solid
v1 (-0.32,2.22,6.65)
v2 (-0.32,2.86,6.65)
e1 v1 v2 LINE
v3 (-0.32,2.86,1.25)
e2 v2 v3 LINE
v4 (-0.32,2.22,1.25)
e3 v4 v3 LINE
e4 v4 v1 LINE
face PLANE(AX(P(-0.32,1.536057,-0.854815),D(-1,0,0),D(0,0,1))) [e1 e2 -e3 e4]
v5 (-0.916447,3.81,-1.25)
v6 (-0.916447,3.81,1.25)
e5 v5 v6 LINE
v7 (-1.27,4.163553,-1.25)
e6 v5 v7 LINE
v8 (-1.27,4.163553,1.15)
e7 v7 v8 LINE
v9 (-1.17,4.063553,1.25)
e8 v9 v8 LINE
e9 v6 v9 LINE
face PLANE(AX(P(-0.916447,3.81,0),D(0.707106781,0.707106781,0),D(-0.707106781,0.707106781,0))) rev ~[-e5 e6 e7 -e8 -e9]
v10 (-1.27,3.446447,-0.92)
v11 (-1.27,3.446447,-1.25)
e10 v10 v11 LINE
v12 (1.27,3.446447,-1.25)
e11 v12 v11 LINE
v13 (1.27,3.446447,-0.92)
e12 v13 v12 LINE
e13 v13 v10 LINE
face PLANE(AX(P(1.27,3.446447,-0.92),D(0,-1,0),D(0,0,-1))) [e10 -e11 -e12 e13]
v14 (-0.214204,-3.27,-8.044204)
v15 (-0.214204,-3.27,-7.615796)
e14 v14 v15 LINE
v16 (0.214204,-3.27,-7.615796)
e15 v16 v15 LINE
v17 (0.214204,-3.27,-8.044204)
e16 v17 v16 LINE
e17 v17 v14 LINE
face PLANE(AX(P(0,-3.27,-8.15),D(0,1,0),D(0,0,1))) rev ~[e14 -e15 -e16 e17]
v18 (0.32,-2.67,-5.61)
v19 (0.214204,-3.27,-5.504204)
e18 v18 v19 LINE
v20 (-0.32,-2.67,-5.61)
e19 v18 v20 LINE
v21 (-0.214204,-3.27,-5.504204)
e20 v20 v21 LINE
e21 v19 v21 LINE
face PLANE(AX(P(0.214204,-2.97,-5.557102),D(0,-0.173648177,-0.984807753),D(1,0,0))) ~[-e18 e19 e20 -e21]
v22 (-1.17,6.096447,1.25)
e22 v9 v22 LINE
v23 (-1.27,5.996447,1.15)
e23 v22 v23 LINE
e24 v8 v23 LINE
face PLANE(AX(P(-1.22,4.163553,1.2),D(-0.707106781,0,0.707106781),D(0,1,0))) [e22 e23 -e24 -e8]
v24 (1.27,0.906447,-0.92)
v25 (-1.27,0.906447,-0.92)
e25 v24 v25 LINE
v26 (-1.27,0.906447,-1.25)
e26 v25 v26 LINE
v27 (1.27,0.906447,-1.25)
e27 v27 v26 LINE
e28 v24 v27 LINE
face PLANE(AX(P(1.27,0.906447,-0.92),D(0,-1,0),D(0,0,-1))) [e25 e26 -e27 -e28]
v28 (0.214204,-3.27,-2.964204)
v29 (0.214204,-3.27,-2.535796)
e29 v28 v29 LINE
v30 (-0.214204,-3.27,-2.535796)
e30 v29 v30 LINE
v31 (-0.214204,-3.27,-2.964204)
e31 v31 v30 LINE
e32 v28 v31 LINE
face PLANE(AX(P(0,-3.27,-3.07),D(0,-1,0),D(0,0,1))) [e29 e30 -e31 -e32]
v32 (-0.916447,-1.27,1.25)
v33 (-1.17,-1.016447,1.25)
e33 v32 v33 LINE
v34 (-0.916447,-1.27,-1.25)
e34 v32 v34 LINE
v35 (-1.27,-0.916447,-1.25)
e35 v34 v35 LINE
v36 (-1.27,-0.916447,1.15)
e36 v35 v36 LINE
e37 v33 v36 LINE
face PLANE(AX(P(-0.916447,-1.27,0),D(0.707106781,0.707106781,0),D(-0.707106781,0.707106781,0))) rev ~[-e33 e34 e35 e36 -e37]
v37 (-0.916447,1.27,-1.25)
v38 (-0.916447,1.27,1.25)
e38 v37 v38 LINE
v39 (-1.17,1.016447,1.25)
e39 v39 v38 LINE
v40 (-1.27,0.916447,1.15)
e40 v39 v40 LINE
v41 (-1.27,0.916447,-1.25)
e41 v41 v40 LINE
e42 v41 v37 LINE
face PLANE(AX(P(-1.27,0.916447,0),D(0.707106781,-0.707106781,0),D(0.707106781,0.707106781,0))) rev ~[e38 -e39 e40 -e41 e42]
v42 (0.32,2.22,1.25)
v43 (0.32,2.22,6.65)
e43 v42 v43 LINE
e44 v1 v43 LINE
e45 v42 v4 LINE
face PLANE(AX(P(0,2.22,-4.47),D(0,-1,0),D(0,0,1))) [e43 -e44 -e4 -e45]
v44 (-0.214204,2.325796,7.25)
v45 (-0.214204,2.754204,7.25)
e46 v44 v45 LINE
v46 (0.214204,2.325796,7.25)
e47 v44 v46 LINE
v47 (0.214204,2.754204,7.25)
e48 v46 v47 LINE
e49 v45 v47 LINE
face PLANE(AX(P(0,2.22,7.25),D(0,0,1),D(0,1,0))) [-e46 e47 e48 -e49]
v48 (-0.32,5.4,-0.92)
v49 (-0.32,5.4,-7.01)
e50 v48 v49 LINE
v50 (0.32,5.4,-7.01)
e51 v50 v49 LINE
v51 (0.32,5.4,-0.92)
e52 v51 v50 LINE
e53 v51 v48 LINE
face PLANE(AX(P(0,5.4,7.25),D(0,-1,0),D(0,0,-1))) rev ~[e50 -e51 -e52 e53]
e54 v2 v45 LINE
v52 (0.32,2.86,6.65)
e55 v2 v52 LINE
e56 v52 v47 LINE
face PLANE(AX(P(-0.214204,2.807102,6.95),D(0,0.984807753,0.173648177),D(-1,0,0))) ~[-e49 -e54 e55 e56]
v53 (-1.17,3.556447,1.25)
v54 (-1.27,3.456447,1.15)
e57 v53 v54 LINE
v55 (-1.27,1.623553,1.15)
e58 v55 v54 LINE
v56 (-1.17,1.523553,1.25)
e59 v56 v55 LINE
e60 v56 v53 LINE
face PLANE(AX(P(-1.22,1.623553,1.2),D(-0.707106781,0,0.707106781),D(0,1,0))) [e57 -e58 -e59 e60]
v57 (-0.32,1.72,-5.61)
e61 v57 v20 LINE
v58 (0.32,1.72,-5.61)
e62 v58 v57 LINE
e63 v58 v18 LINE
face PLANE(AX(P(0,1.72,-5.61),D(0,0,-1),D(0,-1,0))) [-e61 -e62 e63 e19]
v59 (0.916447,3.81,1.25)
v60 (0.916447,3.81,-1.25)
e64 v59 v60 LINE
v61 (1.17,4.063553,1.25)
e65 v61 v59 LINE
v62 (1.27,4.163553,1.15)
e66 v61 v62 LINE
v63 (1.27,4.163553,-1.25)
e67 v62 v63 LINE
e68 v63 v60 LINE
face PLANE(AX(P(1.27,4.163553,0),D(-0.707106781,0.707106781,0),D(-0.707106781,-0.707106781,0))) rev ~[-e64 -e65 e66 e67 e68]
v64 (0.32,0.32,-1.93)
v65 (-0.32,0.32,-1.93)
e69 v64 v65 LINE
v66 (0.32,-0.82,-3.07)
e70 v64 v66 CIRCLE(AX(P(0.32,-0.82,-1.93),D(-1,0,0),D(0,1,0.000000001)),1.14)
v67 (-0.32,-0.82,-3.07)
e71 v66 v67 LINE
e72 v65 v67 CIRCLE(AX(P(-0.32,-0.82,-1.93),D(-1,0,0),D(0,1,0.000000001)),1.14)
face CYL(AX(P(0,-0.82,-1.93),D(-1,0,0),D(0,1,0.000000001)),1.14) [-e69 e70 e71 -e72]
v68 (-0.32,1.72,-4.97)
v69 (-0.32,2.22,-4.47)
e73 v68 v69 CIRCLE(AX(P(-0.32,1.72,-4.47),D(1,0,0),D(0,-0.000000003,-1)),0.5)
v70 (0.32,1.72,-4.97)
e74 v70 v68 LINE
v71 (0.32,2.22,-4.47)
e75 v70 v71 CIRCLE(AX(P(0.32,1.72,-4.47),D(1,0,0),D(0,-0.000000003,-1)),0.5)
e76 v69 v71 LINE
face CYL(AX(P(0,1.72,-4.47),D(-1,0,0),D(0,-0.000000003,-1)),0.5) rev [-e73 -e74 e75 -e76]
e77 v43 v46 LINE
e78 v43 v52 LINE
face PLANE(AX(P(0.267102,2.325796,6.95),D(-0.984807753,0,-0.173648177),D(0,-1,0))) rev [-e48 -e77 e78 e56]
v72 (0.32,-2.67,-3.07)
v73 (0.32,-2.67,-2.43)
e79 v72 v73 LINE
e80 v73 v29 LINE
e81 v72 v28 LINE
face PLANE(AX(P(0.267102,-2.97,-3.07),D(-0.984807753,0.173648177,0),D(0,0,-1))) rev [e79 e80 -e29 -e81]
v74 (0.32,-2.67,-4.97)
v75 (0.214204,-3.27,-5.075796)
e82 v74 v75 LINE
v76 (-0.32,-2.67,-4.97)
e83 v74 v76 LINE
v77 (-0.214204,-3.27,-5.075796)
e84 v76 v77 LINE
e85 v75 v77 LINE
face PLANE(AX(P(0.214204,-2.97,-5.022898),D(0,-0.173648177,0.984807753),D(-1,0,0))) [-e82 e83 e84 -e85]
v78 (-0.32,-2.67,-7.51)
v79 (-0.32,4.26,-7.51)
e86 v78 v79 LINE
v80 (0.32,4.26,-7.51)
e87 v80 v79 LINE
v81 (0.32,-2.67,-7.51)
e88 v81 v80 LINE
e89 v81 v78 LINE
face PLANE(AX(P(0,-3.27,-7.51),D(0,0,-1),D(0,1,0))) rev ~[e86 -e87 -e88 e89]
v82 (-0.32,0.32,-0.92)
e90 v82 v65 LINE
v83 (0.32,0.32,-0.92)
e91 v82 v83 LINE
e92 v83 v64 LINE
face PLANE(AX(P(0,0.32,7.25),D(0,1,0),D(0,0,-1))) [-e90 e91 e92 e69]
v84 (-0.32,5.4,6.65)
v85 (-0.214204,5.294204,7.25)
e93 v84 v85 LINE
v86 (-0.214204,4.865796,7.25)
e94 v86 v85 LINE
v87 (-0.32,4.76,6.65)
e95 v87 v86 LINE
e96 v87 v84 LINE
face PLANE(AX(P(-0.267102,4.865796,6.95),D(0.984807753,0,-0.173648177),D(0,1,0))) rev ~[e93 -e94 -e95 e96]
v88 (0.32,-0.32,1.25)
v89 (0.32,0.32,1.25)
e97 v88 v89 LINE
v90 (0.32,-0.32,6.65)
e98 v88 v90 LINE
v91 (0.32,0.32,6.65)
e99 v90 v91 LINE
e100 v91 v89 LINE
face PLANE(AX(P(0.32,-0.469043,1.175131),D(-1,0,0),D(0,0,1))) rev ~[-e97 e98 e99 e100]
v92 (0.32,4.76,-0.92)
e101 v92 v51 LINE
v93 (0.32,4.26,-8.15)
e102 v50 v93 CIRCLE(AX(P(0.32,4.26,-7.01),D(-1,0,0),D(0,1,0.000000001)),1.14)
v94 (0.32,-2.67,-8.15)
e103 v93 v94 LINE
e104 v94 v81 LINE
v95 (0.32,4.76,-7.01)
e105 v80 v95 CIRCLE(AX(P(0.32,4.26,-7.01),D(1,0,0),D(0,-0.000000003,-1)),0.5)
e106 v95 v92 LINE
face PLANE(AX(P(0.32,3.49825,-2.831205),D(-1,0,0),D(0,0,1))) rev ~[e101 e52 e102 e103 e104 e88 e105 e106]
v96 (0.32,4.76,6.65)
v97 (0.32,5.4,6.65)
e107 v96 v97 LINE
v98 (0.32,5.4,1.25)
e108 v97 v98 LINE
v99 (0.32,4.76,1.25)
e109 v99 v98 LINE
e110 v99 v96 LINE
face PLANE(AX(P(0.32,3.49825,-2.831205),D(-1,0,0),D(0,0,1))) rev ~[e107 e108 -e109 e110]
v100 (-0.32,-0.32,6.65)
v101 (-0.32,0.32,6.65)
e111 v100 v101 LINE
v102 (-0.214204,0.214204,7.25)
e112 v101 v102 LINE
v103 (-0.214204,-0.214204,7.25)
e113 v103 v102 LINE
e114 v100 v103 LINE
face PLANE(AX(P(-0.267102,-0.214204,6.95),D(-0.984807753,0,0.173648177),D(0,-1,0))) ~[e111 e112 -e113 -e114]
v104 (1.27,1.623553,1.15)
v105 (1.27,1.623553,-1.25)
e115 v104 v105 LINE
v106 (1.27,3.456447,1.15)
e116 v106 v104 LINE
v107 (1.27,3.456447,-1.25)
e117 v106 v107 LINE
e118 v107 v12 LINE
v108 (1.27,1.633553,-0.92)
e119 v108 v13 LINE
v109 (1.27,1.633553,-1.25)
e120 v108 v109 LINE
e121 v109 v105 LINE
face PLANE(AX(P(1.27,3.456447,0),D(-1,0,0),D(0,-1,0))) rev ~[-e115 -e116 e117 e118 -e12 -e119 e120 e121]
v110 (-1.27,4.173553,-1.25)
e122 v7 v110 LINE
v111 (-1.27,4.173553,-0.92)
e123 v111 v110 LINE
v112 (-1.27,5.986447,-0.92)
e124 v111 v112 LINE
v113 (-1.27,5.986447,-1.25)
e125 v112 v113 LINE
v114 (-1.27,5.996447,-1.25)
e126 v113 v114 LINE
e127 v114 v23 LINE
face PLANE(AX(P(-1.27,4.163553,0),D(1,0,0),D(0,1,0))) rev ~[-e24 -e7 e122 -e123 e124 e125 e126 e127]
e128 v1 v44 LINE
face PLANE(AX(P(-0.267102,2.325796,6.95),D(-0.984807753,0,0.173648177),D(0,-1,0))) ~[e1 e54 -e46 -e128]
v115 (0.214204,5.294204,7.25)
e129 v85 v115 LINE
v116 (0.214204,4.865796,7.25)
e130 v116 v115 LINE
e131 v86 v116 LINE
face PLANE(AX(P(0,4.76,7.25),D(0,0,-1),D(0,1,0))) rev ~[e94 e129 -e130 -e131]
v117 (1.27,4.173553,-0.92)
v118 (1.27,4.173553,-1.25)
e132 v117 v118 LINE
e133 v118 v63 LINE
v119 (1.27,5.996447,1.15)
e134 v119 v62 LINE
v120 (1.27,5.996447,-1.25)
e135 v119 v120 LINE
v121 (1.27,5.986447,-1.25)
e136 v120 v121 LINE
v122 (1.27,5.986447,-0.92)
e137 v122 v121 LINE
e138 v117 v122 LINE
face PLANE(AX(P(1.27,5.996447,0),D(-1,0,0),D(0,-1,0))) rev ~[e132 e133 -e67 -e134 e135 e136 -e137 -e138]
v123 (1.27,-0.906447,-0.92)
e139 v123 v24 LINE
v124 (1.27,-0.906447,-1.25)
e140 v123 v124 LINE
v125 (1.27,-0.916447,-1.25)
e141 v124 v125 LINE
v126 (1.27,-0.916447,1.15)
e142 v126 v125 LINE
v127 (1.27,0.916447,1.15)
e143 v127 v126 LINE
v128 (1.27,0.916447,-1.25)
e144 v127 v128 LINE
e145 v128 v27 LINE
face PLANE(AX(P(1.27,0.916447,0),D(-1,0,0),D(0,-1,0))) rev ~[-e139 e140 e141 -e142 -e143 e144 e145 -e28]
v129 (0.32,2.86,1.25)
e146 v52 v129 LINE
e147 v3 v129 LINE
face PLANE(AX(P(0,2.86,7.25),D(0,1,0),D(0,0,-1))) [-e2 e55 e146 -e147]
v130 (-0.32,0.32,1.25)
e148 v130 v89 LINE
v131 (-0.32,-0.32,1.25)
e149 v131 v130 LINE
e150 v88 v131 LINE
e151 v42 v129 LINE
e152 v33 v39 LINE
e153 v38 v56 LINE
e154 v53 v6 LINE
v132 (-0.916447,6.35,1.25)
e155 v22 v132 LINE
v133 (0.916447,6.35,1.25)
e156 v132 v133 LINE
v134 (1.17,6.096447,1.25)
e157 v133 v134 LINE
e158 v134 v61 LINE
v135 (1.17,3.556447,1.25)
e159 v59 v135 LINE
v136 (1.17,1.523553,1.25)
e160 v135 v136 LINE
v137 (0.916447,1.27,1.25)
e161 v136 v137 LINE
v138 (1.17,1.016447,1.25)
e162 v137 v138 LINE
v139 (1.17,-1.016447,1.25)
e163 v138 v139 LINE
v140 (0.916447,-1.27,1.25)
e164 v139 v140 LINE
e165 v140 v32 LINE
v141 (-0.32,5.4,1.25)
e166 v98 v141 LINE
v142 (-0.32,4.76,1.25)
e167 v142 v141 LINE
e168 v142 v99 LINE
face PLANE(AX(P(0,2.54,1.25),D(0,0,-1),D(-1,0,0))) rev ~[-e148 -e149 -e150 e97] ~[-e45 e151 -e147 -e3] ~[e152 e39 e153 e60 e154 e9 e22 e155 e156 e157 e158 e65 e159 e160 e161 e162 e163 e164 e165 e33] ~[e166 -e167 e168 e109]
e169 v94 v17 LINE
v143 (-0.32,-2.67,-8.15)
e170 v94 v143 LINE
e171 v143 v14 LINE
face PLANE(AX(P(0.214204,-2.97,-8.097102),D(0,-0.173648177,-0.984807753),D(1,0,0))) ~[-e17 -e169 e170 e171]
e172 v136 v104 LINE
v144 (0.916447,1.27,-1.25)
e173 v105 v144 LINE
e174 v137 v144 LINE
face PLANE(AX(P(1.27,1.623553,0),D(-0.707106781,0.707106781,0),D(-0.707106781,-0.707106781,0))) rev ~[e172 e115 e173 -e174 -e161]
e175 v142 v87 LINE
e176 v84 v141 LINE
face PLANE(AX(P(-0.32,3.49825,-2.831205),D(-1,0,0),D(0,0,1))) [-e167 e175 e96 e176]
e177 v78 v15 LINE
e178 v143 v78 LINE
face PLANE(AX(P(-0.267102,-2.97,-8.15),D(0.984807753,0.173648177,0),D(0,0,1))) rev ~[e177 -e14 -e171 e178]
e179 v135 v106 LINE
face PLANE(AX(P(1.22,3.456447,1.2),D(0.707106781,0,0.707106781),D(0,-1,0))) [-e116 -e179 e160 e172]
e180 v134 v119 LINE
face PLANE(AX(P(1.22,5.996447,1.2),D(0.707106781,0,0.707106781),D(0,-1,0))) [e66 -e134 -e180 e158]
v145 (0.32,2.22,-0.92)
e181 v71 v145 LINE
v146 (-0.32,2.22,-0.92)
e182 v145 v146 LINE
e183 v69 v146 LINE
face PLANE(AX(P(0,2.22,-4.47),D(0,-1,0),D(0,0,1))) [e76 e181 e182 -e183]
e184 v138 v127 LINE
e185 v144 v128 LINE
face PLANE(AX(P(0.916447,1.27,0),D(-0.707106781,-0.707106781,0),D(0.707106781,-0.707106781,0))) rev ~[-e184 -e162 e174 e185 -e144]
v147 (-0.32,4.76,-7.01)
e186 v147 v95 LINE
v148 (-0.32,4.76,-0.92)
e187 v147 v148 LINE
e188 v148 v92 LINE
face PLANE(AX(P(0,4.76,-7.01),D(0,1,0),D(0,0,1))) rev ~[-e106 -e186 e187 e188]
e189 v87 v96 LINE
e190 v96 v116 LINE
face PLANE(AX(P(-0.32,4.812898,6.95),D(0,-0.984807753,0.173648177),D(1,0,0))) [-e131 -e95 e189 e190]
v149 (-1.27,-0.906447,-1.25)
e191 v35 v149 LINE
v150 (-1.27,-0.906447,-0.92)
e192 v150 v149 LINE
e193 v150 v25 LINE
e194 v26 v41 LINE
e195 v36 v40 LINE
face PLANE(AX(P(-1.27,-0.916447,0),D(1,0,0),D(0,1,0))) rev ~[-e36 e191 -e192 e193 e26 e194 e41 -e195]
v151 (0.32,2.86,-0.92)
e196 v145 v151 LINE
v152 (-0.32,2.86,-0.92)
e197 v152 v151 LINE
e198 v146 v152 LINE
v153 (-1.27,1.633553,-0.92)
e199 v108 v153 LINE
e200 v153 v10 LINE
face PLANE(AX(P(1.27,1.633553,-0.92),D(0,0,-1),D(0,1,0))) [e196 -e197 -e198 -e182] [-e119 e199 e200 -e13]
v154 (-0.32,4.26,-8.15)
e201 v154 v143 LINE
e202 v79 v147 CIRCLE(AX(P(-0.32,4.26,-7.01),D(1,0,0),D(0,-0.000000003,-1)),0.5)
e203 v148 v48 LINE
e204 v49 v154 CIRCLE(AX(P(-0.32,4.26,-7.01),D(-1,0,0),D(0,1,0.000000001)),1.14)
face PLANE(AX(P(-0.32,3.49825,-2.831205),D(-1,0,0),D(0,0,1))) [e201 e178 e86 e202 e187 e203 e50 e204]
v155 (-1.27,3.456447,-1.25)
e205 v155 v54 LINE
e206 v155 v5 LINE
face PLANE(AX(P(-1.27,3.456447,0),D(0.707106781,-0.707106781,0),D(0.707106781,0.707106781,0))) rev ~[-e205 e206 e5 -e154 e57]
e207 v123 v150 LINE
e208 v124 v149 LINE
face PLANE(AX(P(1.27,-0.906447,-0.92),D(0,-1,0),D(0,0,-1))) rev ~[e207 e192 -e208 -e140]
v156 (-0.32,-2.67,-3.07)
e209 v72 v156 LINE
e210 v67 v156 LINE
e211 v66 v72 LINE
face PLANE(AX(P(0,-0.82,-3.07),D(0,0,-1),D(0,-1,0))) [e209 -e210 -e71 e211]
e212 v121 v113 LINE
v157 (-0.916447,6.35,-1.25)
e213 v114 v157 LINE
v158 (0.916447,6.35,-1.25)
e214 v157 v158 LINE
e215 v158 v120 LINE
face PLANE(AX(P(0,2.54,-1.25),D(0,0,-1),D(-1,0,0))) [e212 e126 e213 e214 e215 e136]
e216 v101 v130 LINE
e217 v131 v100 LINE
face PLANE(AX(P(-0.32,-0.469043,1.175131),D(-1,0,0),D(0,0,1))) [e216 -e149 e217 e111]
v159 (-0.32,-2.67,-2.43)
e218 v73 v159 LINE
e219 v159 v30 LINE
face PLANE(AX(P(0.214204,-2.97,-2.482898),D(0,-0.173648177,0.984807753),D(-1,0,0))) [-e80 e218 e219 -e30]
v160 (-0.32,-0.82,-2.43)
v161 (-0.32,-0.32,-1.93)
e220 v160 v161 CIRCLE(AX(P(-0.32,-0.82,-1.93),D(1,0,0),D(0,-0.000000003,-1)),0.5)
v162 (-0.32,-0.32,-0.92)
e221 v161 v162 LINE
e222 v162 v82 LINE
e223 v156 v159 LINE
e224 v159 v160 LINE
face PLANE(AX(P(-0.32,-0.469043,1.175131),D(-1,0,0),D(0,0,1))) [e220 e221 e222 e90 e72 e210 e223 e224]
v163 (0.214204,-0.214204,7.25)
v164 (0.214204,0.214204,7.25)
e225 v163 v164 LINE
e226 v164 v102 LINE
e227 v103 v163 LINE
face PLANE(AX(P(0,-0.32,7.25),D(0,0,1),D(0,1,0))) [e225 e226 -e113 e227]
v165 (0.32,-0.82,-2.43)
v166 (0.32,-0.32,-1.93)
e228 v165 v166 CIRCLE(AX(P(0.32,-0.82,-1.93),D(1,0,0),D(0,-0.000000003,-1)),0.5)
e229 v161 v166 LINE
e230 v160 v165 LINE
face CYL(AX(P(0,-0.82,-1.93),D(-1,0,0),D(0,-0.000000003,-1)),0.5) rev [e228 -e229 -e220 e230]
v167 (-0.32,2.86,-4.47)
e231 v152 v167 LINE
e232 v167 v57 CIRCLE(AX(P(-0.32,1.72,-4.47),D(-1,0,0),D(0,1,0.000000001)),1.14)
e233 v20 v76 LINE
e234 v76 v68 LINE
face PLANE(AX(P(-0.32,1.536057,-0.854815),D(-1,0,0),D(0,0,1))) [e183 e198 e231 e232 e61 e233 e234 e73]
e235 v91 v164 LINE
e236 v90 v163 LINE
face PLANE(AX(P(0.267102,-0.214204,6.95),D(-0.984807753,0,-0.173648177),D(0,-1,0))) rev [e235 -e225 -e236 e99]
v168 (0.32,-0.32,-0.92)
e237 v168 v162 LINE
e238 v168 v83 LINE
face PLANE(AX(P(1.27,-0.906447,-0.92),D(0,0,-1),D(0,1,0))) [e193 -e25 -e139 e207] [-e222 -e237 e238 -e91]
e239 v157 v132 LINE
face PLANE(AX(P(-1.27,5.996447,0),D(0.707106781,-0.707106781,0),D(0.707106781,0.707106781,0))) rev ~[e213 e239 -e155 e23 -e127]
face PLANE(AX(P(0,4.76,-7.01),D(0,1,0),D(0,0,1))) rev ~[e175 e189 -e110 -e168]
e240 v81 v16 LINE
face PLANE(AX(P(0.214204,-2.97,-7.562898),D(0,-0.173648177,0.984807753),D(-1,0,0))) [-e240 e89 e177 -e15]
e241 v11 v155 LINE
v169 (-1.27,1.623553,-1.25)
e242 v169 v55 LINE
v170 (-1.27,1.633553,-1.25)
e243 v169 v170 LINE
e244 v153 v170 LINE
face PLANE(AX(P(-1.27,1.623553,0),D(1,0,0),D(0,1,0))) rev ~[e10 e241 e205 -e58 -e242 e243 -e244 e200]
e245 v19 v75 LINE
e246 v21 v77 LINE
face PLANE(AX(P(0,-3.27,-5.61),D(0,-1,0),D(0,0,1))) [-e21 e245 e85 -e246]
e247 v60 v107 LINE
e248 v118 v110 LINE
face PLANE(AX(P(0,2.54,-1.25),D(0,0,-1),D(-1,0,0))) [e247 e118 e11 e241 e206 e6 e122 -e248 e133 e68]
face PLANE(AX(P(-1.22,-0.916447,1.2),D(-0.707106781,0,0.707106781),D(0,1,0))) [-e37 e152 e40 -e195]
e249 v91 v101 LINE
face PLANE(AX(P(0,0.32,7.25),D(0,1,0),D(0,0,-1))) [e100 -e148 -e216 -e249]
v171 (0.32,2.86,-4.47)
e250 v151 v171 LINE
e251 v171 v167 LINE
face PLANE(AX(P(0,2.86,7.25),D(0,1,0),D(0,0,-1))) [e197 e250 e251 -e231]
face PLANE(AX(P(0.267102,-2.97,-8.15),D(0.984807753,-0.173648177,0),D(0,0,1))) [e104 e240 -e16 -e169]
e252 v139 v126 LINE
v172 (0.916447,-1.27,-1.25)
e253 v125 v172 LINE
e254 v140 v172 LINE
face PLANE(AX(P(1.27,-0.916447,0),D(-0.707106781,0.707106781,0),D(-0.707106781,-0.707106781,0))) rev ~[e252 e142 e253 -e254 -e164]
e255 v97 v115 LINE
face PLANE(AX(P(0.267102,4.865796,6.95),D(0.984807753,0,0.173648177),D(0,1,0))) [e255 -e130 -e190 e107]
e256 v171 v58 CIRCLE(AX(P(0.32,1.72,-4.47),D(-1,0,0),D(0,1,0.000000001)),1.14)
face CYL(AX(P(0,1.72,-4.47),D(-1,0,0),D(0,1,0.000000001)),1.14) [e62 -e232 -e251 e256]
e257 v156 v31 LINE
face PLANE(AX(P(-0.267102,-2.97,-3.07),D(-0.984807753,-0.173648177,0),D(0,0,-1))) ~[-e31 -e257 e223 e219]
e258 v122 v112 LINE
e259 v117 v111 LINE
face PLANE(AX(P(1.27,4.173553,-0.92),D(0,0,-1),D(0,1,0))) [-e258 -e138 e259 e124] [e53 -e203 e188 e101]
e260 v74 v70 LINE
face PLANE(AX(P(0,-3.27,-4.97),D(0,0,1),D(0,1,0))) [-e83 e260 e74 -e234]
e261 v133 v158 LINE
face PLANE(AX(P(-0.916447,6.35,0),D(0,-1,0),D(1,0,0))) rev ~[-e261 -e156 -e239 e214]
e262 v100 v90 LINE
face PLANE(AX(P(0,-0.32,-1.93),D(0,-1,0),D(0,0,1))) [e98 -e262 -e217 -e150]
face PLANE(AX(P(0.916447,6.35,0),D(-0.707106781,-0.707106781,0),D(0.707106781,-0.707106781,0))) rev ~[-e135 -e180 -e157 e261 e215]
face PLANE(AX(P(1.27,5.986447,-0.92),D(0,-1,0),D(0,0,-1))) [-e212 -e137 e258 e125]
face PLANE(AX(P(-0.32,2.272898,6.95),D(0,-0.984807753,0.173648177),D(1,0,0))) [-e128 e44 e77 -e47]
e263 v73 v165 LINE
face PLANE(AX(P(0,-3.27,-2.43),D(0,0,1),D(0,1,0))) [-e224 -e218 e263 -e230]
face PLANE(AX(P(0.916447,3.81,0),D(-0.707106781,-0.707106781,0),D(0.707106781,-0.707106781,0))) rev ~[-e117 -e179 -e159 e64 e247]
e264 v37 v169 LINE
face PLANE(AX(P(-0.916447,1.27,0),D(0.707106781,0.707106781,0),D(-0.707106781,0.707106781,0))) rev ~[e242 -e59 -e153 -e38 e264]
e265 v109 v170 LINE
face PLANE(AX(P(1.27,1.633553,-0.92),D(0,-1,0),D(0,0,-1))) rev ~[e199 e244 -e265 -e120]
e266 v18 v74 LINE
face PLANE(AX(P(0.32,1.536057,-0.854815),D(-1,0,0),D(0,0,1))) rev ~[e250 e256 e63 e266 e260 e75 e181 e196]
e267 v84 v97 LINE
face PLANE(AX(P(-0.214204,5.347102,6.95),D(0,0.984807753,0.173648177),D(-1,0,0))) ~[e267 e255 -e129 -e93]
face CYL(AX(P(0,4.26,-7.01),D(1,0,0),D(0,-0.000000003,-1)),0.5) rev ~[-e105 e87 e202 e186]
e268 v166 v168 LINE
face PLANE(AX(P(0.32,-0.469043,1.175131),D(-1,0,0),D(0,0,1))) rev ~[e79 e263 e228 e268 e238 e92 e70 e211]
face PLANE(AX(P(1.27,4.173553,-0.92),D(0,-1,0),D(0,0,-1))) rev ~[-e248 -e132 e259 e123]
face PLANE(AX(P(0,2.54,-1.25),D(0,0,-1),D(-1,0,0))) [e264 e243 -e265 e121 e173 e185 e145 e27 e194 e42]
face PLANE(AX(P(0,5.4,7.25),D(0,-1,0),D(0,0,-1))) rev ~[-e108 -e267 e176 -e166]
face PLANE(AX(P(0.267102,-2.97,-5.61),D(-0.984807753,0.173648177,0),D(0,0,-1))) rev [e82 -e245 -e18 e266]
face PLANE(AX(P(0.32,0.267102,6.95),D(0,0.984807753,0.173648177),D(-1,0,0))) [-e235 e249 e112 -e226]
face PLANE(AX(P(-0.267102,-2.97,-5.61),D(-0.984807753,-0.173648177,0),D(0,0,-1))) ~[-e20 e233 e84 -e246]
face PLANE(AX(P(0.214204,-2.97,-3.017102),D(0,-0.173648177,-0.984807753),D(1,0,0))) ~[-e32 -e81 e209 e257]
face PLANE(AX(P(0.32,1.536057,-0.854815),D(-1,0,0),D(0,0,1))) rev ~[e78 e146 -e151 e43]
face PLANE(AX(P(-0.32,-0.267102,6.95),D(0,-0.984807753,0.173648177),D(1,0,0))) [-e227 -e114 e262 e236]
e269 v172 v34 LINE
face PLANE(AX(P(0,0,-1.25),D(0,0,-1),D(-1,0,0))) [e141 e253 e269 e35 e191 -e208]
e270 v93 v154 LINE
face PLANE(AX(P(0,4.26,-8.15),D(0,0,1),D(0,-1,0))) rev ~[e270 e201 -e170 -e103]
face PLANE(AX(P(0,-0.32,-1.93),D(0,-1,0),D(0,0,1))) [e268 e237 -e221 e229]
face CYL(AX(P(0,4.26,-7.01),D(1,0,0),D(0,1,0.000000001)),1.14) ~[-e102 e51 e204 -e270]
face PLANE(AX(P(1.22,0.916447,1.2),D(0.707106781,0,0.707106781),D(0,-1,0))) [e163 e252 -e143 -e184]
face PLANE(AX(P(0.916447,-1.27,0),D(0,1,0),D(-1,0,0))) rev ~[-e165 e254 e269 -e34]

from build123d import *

# Parameters (mm, degrees)
BOSS_EXTRU_1_DEPTH                      = 1.25
ESQUISSE2_W                             = 0.33
ESQUISSE2_H                             = 1.812893218
ENL_V_MAT_EXTRU_2_DEPTH                 = 3.54
CHANFREIN1_SIZE                         = 0.1
R_P_TITION_LIN_AIRE1_COUNT              = 3
R_P_TITION_LIN_AIRE1_PITCH              = 2.54
CHANFREIN1_OF_R_P_TITION_LIN_AIRE1_SIZE = 0.1
BOSS_EXTRU_2_DEPTH                      = 0.32
CHANFREIN2_SIZE                         = 0.6
CHANFREIN2_SIZE2                        = 0.105796188
CHANFREIN2_PART_2_SIZE                  = 0.6
CHANFREIN2_PART_2_SIZE2                 = 0.105796188
CHANFREIN2_PART_3_SIZE                  = 0.6
CHANFREIN2_PART_3_SIZE2                 = 0.105796188
CHANFREIN2_PART_4_SIZE                  = 0.6
CHANFREIN2_PART_4_SIZE2                 = 0.105796188
CHANFREIN2_PART_5_SIZE                  = 0.6
CHANFREIN2_PART_5_SIZE2                 = 0.105796188
CHANFREIN2_PART_6_SIZE                  = 0.6
CHANFREIN2_PART_6_SIZE2                 = 0.105796188
CHANFREIN2_PART_7_SIZE                  = 0.6
CHANFREIN2_PART_7_SIZE2                 = 0.105796188
CHANFREIN2_PART_8_SIZE                  = 0.6
CHANFREIN2_PART_8_SIZE2                 = 0.105796188
CHANFREIN2_PART_9_SIZE                  = 0.6
CHANFREIN2_PART_9_SIZE2                 = 0.105796188
CHANFREIN2_PART_10_SIZE                 = 0.6
CHANFREIN2_PART_10_SIZE2                = 0.105796188
CHANFREIN2_PART_11_SIZE                 = 0.6
CHANFREIN2_PART_11_SIZE2                = 0.105796188
CHANFREIN2_PART_12_SIZE                 = 0.6
CHANFREIN2_PART_12_SIZE2                = 0.105796188
CHANFREIN2_PART_13_SIZE                 = 0.6
CHANFREIN2_PART_13_SIZE2                = 0.105796188
CHANFREIN2_PART_14_SIZE                 = 0.6
CHANFREIN2_PART_14_SIZE2                = 0.105796188
CHANFREIN2_PART_15_SIZE                 = 0.6
CHANFREIN2_PART_15_SIZE2                = 0.105796188
CHANFREIN2_PART_16_SIZE                 = 0.6
CHANFREIN2_PART_16_SIZE2                = 0.105796188
CHANFREIN2_PART_17_SIZE                 = 0.6
CHANFREIN2_PART_17_SIZE2                = 0.105796188
CHANFREIN2_PART_18_SIZE                 = 0.6
CHANFREIN2_PART_18_SIZE2                = 0.105796188
CHANFREIN2_PART_19_SIZE                 = 0.6
CHANFREIN2_PART_19_SIZE2                = 0.105796188
CHANFREIN2_PART_20_SIZE                 = 0.6
CHANFREIN2_PART_20_SIZE2                = 0.105796188
CHANFREIN2_PART_21_SIZE                 = 0.6
CHANFREIN2_PART_21_SIZE2                = 0.105796188
CHANFREIN2_PART_22_SIZE                 = 0.6
CHANFREIN2_PART_22_SIZE2                = 0.105796188
CHANFREIN2_PART_23_SIZE                 = 0.6
CHANFREIN2_PART_23_SIZE2                = 0.105796188
CHANFREIN2_PART_24_SIZE                 = 0.6
CHANFREIN2_PART_24_SIZE2                = 0.105796188


with BuildPart() as part:
    # Esquisse1 → Boss.-Extru.1 (new body, symmetric)
    with BuildSketch(Plane.XY):
        Polygon((-0.916446609, 1.27), (0.916446609, 1.27), (1.27, 0.916446609), (1.27, -0.916446609), (0.916446609, -1.27), (-0.916446609, -1.27), (-1.27, -0.916446609), (-1.27, 0.916446609), align=None)
    boss_extru_1 = extrude(amount=BOSS_EXTRU_1_DEPTH, both=True)

    # Esquisse2 → Enlèv. mat.-Extru.2 (cut, through all)
    with BuildSketch(Plane(origin=(1.27, 0, 0), x_dir=(0, 0, -1), z_dir=(1, 0, 0))):
        with Locations((1.085, 0)):
            Rectangle(ESQUISSE2_W, ESQUISSE2_H)
    enl_v_mat_extru_2 = extrude(amount=-ENL_V_MAT_EXTRU_2_DEPTH, mode=Mode.SUBTRACT)

    # Chanfrein1
    chanfrein1_edges = [part.edges().sort_by_distance(p)[0] for p in [
        (1.27, 0, 1.25),
        (-1.27, 0, 1.25),
    ]]
    chamfer(chanfrein1_edges, length=CHANFREIN1_SIZE)

    # Répétition linéaire1: Boss.-Extru.1, Enlèv. mat.-Extru.2 ×3
    with Locations(*[(0, i * R_P_TITION_LIN_AIRE1_PITCH, 0) for i in range(1, R_P_TITION_LIN_AIRE1_COUNT)]):
        add(boss_extru_1)
        add(enl_v_mat_extru_2, mode=Mode.SUBTRACT)

    # Chanfrein1 of Répétition linéaire1
    chanfrein1_of_r_p_tition_lin_aire1_edges = [part.edges().sort_by_distance(p)[0] for p in [
        (1.27, 2.54, 1.25),
        (-1.27, 2.54, 1.25),
        (1.27, 5.08, 1.25),
        (-1.27, 5.08, 1.25),
    ]]
    chamfer(chanfrein1_of_r_p_tition_lin_aire1_edges, length=CHANFREIN1_OF_R_P_TITION_LIN_AIRE1_SIZE)

    # Esquisse3 → Boss.-Extru.2 (add, symmetric)
    with BuildSketch(Plane(origin=(0, 0, 0), x_dir=(0, 0, -1), z_dir=(1, 0, 0))):
        with BuildLine():
            Line((-7.25, -0.32), (-7.25, 0.32))
            Line((-7.25, 0.32), (1.93, 0.32))
            ThreePointArc((1.93, 0.32), (2.736101731, -0.013898269), (3.07, -0.82))
            Line((3.07, -0.82), (3.07, -3.27))
            Line((3.07, -3.27), (2.43, -3.27))
            Line((2.43, -3.27), (2.43, -0.82))
            ThreePointArc((2.43, -0.82), (2.283553391, -0.466446609), (1.93, -0.32))
            Line((1.93, -0.32), (-7.25, -0.32))
        make_face()
        with BuildLine():
            Line((-7.25, 2.86), (4.47, 2.86))
            ThreePointArc((4.47, 2.86), (5.276101731, 2.526101731), (5.61, 1.72))
            Line((5.61, 1.72), (5.61, -3.27))
            Line((5.61, -3.27), (4.97, -3.27))
            Line((4.97, -3.27), (4.97, 1.72))
            ThreePointArc((4.97, 1.72), (4.823553391, 2.073553391), (4.47, 2.22))
            Line((4.47, 2.22), (-7.25, 2.22))
            Line((-7.25, 2.22), (-7.25, 2.86))
        make_face()
        with BuildLine():
            Line((-7.25, 5.4), (7.01, 5.4))
            ThreePointArc((7.01, 5.4), (7.816101731, 5.066101731), (8.15, 4.26))
            Line((8.15, 4.26), (8.15, -3.27))
            Line((8.15, -3.27), (7.51, -3.27))
            Line((7.51, -3.27), (7.51, 4.26))
            ThreePointArc((7.51, 4.26), (7.363553391, 4.613553391), (7.01, 4.76))
            Line((7.01, 4.76), (-7.25, 4.76))
            Line((-7.25, 4.76), (-7.25, 5.4))
        make_face()
    extrude(amount=BOSS_EXTRU_2_DEPTH, both=True)

    # Chanfrein2
    chanfrein2_edges = [part.edges().sort_by_distance(p)[0] for p in [
        (0.32, -3.27, -2.75),
    ]]
    chanfrein2_side = [part.faces().sort_by_distance(p)[0] for p in [
        (0.32, -0.436857253, -2.313142747),
    ]]
    chamfer(chanfrein2_edges, length=CHANFREIN2_SIZE, length2=CHANFREIN2_SIZE2, reference=chanfrein2_side[0])

    # Chanfrein2 part 2
    chanfrein2_part_2_edges = [part.edges().sort_by_distance(p)[0] for p in [
        (0, -0.32, 7.25),
    ]]
    chanfrein2_part_2_side = [part.faces().sort_by_distance(p)[0] for p in [
        (0, -0.32, 4.25),
    ]]
    chamfer(chanfrein2_part_2_edges, length=CHANFREIN2_PART_2_SIZE, length2=CHANFREIN2_PART_2_SIZE2, reference=chanfrein2_part_2_side[0])

    # Chanfrein2 part 3
    chanfrein2_part_3_edges = [part.edges().sort_by_distance(p)[0] for p in [
        (-0.32, -3.27, -2.75),
    ]]
    chanfrein2_part_3_side = [part.faces().sort_by_distance(p)[0] for p in [
        (-0.32, -0.436857253, -2.313142747),
    ]]
    chamfer(chanfrein2_part_3_edges, length=CHANFREIN2_PART_3_SIZE, length2=CHANFREIN2_PART_3_SIZE2, reference=chanfrein2_part_3_side[0])

    # Chanfrein2 part 4
    chanfrein2_part_4_edges = [part.edges().sort_by_distance(p)[0] for p in [
        (0, -3.27, -2.43),
    ]]
    chanfrein2_part_4_side = [part.faces().sort_by_distance(p)[0] for p in [
        (0, -2.045, -2.43),
    ]]
    chamfer(chanfrein2_part_4_edges, length=CHANFREIN2_PART_4_SIZE, length2=CHANFREIN2_PART_4_SIZE2, reference=chanfrein2_part_4_side[0])

    # Chanfrein2 part 5
    chanfrein2_part_5_edges = [part.edges().sort_by_distance(p)[0] for p in [
        (0, -3.27, -3.07),
    ]]
    chanfrein2_part_5_side = [part.faces().sort_by_distance(p)[0] for p in [
        (0, -2.045, -3.07),
    ]]
    chamfer(chanfrein2_part_5_edges, length=CHANFREIN2_PART_5_SIZE, length2=CHANFREIN2_PART_5_SIZE2, reference=chanfrein2_part_5_side[0])

    # Chanfrein2 part 6
    chanfrein2_part_6_edges = [part.edges().sort_by_distance(p)[0] for p in [
        (-0.32, 0, 7.25),
    ]]
    chanfrein2_part_6_side = [part.faces().sort_by_distance(p)[0] for p in [
        (-0.32, 0, 4.25),
    ]]
    chamfer(chanfrein2_part_6_edges, length=CHANFREIN2_PART_6_SIZE, length2=CHANFREIN2_PART_6_SIZE2, reference=chanfrein2_part_6_side[0])

    # Chanfrein2 part 7
    chanfrein2_part_7_edges = [part.edges().sort_by_distance(p)[0] for p in [
        (0, 0.32, 7.25),
    ]]
    chanfrein2_part_7_side = [part.faces().sort_by_distance(p)[0] for p in [
        (0, 0.32, 4.25),
    ]]
    chamfer(chanfrein2_part_7_edges, length=CHANFREIN2_PART_7_SIZE, length2=CHANFREIN2_PART_7_SIZE2, reference=chanfrein2_part_7_side[0])

    # Chanfrein2 part 8
    chanfrein2_part_8_edges = [part.edges().sort_by_distance(p)[0] for p in [
        (0.32, 0, 7.25),
    ]]
    chanfrein2_part_8_side = [part.faces().sort_by_distance(p)[0] for p in [
        (0.32, 0, 4.25),
    ]]
    chamfer(chanfrein2_part_8_edges, length=CHANFREIN2_PART_8_SIZE, length2=CHANFREIN2_PART_8_SIZE2, reference=chanfrein2_part_8_side[0])

    # Chanfrein2 part 9
    chanfrein2_part_9_edges = [part.edges().sort_by_distance(p)[0] for p in [
        (0.32, -3.27, -5.29),
    ]]
    chanfrein2_part_9_side = [part.faces().sort_by_distance(p)[0] for p in [
        (0.32, 2.54, -0.997183547),
    ]]
    chamfer(chanfrein2_part_9_edges, length=CHANFREIN2_PART_9_SIZE, length2=CHANFREIN2_PART_9_SIZE2, reference=chanfrein2_part_9_side[0])

    # Chanfrein2 part 10
    chanfrein2_part_10_edges = [part.edges().sort_by_distance(p)[0] for p in [
        (0, 2.22, 7.25),
    ]]
    chanfrein2_part_10_side = [part.faces().sort_by_distance(p)[0] for p in [
        (0, 2.22, 4.25),
    ]]
    chamfer(chanfrein2_part_10_edges, length=CHANFREIN2_PART_10_SIZE, length2=CHANFREIN2_PART_10_SIZE2, reference=chanfrein2_part_10_side[0])

    # Chanfrein2 part 11
    chanfrein2_part_11_edges = [part.edges().sort_by_distance(p)[0] for p in [
        (-0.32, -3.27, -5.29),
    ]]
    chanfrein2_part_11_side = [part.faces().sort_by_distance(p)[0] for p in [
        (-0.32, 2.54, -0.997183547),
    ]]
    chamfer(chanfrein2_part_11_edges, length=CHANFREIN2_PART_11_SIZE, length2=CHANFREIN2_PART_11_SIZE2, reference=chanfrein2_part_11_side[0])

    # Chanfrein2 part 12
    chanfrein2_part_12_edges = [part.edges().sort_by_distance(p)[0] for p in [
        (0, -3.27, -4.97),
    ]]
    chanfrein2_part_12_side = [part.faces().sort_by_distance(p)[0] for p in [
        (0, -0.775, -4.97),
    ]]
    chamfer(chanfrein2_part_12_edges, length=CHANFREIN2_PART_12_SIZE, length2=CHANFREIN2_PART_12_SIZE2, reference=chanfrein2_part_12_side[0])

    # Chanfrein2 part 13
    chanfrein2_part_13_edges = [part.edges().sort_by_distance(p)[0] for p in [
        (0, -3.27, -5.61),
    ]]
    chanfrein2_part_13_side = [part.faces().sort_by_distance(p)[0] for p in [
        (0, -0.775, -5.61),
    ]]
    chamfer(chanfrein2_part_13_edges, length=CHANFREIN2_PART_13_SIZE, length2=CHANFREIN2_PART_13_SIZE2, reference=chanfrein2_part_13_side[0])

    # Chanfrein2 part 14
    chanfrein2_part_14_edges = [part.edges().sort_by_distance(p)[0] for p in [
        (-0.32, 2.54, 7.25),
    ]]
    chanfrein2_part_14_side = [part.faces().sort_by_distance(p)[0] for p in [
        (-0.32, 2.54, 4.25),
    ]]
    chamfer(chanfrein2_part_14_edges, length=CHANFREIN2_PART_14_SIZE, length2=CHANFREIN2_PART_14_SIZE2, reference=chanfrein2_part_14_side[0])

    # Chanfrein2 part 15
    chanfrein2_part_15_edges = [part.edges().sort_by_distance(p)[0] for p in [
        (0, 2.86, 7.25),
    ]]
    chanfrein2_part_15_side = [part.faces().sort_by_distance(p)[0] for p in [
        (0, 2.86, 4.25),
    ]]
    chamfer(chanfrein2_part_15_edges, length=CHANFREIN2_PART_15_SIZE, length2=CHANFREIN2_PART_15_SIZE2, reference=chanfrein2_part_15_side[0])

    # Chanfrein2 part 16
    chanfrein2_part_16_edges = [part.edges().sort_by_distance(p)[0] for p in [
        (0.32, 2.54, 7.25),
    ]]
    chanfrein2_part_16_side = [part.faces().sort_by_distance(p)[0] for p in [
        (0.32, 2.54, 4.25),
    ]]
    chamfer(chanfrein2_part_16_edges, length=CHANFREIN2_PART_16_SIZE, length2=CHANFREIN2_PART_16_SIZE2, reference=chanfrein2_part_16_side[0])

    # Chanfrein2 part 17
    chanfrein2_part_17_edges = [part.edges().sort_by_distance(p)[0] for p in [
        (0.32, -3.27, -7.83),
    ]]
    chanfrein2_part_17_side = [part.faces().sort_by_distance(p)[0] for p in [
        (0.32, 4.693378762, -7.443378762),
    ]]
    chamfer(chanfrein2_part_17_edges, length=CHANFREIN2_PART_17_SIZE, length2=CHANFREIN2_PART_17_SIZE2, reference=chanfrein2_part_17_side[0])

    # Chanfrein2 part 18
    chanfrein2_part_18_edges = [part.edges().sort_by_distance(p)[0] for p in [
        (0, 4.76, 7.25),
    ]]
    chanfrein2_part_18_side = [part.faces().sort_by_distance(p)[0] for p in [
        (0, 4.76, 4.25),
    ]]
    chamfer(chanfrein2_part_18_edges, length=CHANFREIN2_PART_18_SIZE, length2=CHANFREIN2_PART_18_SIZE2, reference=chanfrein2_part_18_side[0])

    # Chanfrein2 part 19
    chanfrein2_part_19_edges = [part.edges().sort_by_distance(p)[0] for p in [
        (-0.32, -3.27, -7.83),
    ]]
    chanfrein2_part_19_side = [part.faces().sort_by_distance(p)[0] for p in [
        (-0.32, 4.693378762, -7.443378762),
    ]]
    chamfer(chanfrein2_part_19_edges, length=CHANFREIN2_PART_19_SIZE, length2=CHANFREIN2_PART_19_SIZE2, reference=chanfrein2_part_19_side[0])

    # Chanfrein2 part 20
    chanfrein2_part_20_edges = [part.edges().sort_by_distance(p)[0] for p in [
        (0, -3.27, -7.51),
    ]]
    chanfrein2_part_20_side = [part.faces().sort_by_distance(p)[0] for p in [
        (0, 0.495, -7.51),
    ]]
    chamfer(chanfrein2_part_20_edges, length=CHANFREIN2_PART_20_SIZE, length2=CHANFREIN2_PART_20_SIZE2, reference=chanfrein2_part_20_side[0])

    # Chanfrein2 part 21
    chanfrein2_part_21_edges = [part.edges().sort_by_distance(p)[0] for p in [
        (0, -3.27, -8.15),
    ]]
    chanfrein2_part_21_side = [part.faces().sort_by_distance(p)[0] for p in [
        (0, 0.495, -8.15),
    ]]
    chamfer(chanfrein2_part_21_edges, length=CHANFREIN2_PART_21_SIZE, length2=CHANFREIN2_PART_21_SIZE2, reference=chanfrein2_part_21_side[0])

    # Chanfrein2 part 22
    chanfrein2_part_22_edges = [part.edges().sort_by_distance(p)[0] for p in [
        (-0.32, 5.08, 7.25),
    ]]
    chanfrein2_part_22_side = [part.faces().sort_by_distance(p)[0] for p in [
        (-0.32, 5.08, 4.25),
    ]]
    chamfer(chanfrein2_part_22_edges, length=CHANFREIN2_PART_22_SIZE, length2=CHANFREIN2_PART_22_SIZE2, reference=chanfrein2_part_22_side[0])

    # Chanfrein2 part 23
    chanfrein2_part_23_edges = [part.edges().sort_by_distance(p)[0] for p in [
        (0, 5.4, 7.25),
    ]]
    chanfrein2_part_23_side = [part.faces().sort_by_distance(p)[0] for p in [
        (0, 5.4, 4.25),
    ]]
    chamfer(chanfrein2_part_23_edges, length=CHANFREIN2_PART_23_SIZE, length2=CHANFREIN2_PART_23_SIZE2, reference=chanfrein2_part_23_side[0])

    # Chanfrein2 part 24
    chanfrein2_part_24_edges = [part.edges().sort_by_distance(p)[0] for p in [
        (0.32, 5.08, 7.25),
    ]]
    chanfrein2_part_24_side = [part.faces().sort_by_distance(p)[0] for p in [
        (0.32, 5.08, 4.25),
    ]]
    chamfer(chanfrein2_part_24_edges, length=CHANFREIN2_PART_24_SIZE, length2=CHANFREIN2_PART_24_SIZE2, reference=chanfrein2_part_24_side[0])


solid = part.part
